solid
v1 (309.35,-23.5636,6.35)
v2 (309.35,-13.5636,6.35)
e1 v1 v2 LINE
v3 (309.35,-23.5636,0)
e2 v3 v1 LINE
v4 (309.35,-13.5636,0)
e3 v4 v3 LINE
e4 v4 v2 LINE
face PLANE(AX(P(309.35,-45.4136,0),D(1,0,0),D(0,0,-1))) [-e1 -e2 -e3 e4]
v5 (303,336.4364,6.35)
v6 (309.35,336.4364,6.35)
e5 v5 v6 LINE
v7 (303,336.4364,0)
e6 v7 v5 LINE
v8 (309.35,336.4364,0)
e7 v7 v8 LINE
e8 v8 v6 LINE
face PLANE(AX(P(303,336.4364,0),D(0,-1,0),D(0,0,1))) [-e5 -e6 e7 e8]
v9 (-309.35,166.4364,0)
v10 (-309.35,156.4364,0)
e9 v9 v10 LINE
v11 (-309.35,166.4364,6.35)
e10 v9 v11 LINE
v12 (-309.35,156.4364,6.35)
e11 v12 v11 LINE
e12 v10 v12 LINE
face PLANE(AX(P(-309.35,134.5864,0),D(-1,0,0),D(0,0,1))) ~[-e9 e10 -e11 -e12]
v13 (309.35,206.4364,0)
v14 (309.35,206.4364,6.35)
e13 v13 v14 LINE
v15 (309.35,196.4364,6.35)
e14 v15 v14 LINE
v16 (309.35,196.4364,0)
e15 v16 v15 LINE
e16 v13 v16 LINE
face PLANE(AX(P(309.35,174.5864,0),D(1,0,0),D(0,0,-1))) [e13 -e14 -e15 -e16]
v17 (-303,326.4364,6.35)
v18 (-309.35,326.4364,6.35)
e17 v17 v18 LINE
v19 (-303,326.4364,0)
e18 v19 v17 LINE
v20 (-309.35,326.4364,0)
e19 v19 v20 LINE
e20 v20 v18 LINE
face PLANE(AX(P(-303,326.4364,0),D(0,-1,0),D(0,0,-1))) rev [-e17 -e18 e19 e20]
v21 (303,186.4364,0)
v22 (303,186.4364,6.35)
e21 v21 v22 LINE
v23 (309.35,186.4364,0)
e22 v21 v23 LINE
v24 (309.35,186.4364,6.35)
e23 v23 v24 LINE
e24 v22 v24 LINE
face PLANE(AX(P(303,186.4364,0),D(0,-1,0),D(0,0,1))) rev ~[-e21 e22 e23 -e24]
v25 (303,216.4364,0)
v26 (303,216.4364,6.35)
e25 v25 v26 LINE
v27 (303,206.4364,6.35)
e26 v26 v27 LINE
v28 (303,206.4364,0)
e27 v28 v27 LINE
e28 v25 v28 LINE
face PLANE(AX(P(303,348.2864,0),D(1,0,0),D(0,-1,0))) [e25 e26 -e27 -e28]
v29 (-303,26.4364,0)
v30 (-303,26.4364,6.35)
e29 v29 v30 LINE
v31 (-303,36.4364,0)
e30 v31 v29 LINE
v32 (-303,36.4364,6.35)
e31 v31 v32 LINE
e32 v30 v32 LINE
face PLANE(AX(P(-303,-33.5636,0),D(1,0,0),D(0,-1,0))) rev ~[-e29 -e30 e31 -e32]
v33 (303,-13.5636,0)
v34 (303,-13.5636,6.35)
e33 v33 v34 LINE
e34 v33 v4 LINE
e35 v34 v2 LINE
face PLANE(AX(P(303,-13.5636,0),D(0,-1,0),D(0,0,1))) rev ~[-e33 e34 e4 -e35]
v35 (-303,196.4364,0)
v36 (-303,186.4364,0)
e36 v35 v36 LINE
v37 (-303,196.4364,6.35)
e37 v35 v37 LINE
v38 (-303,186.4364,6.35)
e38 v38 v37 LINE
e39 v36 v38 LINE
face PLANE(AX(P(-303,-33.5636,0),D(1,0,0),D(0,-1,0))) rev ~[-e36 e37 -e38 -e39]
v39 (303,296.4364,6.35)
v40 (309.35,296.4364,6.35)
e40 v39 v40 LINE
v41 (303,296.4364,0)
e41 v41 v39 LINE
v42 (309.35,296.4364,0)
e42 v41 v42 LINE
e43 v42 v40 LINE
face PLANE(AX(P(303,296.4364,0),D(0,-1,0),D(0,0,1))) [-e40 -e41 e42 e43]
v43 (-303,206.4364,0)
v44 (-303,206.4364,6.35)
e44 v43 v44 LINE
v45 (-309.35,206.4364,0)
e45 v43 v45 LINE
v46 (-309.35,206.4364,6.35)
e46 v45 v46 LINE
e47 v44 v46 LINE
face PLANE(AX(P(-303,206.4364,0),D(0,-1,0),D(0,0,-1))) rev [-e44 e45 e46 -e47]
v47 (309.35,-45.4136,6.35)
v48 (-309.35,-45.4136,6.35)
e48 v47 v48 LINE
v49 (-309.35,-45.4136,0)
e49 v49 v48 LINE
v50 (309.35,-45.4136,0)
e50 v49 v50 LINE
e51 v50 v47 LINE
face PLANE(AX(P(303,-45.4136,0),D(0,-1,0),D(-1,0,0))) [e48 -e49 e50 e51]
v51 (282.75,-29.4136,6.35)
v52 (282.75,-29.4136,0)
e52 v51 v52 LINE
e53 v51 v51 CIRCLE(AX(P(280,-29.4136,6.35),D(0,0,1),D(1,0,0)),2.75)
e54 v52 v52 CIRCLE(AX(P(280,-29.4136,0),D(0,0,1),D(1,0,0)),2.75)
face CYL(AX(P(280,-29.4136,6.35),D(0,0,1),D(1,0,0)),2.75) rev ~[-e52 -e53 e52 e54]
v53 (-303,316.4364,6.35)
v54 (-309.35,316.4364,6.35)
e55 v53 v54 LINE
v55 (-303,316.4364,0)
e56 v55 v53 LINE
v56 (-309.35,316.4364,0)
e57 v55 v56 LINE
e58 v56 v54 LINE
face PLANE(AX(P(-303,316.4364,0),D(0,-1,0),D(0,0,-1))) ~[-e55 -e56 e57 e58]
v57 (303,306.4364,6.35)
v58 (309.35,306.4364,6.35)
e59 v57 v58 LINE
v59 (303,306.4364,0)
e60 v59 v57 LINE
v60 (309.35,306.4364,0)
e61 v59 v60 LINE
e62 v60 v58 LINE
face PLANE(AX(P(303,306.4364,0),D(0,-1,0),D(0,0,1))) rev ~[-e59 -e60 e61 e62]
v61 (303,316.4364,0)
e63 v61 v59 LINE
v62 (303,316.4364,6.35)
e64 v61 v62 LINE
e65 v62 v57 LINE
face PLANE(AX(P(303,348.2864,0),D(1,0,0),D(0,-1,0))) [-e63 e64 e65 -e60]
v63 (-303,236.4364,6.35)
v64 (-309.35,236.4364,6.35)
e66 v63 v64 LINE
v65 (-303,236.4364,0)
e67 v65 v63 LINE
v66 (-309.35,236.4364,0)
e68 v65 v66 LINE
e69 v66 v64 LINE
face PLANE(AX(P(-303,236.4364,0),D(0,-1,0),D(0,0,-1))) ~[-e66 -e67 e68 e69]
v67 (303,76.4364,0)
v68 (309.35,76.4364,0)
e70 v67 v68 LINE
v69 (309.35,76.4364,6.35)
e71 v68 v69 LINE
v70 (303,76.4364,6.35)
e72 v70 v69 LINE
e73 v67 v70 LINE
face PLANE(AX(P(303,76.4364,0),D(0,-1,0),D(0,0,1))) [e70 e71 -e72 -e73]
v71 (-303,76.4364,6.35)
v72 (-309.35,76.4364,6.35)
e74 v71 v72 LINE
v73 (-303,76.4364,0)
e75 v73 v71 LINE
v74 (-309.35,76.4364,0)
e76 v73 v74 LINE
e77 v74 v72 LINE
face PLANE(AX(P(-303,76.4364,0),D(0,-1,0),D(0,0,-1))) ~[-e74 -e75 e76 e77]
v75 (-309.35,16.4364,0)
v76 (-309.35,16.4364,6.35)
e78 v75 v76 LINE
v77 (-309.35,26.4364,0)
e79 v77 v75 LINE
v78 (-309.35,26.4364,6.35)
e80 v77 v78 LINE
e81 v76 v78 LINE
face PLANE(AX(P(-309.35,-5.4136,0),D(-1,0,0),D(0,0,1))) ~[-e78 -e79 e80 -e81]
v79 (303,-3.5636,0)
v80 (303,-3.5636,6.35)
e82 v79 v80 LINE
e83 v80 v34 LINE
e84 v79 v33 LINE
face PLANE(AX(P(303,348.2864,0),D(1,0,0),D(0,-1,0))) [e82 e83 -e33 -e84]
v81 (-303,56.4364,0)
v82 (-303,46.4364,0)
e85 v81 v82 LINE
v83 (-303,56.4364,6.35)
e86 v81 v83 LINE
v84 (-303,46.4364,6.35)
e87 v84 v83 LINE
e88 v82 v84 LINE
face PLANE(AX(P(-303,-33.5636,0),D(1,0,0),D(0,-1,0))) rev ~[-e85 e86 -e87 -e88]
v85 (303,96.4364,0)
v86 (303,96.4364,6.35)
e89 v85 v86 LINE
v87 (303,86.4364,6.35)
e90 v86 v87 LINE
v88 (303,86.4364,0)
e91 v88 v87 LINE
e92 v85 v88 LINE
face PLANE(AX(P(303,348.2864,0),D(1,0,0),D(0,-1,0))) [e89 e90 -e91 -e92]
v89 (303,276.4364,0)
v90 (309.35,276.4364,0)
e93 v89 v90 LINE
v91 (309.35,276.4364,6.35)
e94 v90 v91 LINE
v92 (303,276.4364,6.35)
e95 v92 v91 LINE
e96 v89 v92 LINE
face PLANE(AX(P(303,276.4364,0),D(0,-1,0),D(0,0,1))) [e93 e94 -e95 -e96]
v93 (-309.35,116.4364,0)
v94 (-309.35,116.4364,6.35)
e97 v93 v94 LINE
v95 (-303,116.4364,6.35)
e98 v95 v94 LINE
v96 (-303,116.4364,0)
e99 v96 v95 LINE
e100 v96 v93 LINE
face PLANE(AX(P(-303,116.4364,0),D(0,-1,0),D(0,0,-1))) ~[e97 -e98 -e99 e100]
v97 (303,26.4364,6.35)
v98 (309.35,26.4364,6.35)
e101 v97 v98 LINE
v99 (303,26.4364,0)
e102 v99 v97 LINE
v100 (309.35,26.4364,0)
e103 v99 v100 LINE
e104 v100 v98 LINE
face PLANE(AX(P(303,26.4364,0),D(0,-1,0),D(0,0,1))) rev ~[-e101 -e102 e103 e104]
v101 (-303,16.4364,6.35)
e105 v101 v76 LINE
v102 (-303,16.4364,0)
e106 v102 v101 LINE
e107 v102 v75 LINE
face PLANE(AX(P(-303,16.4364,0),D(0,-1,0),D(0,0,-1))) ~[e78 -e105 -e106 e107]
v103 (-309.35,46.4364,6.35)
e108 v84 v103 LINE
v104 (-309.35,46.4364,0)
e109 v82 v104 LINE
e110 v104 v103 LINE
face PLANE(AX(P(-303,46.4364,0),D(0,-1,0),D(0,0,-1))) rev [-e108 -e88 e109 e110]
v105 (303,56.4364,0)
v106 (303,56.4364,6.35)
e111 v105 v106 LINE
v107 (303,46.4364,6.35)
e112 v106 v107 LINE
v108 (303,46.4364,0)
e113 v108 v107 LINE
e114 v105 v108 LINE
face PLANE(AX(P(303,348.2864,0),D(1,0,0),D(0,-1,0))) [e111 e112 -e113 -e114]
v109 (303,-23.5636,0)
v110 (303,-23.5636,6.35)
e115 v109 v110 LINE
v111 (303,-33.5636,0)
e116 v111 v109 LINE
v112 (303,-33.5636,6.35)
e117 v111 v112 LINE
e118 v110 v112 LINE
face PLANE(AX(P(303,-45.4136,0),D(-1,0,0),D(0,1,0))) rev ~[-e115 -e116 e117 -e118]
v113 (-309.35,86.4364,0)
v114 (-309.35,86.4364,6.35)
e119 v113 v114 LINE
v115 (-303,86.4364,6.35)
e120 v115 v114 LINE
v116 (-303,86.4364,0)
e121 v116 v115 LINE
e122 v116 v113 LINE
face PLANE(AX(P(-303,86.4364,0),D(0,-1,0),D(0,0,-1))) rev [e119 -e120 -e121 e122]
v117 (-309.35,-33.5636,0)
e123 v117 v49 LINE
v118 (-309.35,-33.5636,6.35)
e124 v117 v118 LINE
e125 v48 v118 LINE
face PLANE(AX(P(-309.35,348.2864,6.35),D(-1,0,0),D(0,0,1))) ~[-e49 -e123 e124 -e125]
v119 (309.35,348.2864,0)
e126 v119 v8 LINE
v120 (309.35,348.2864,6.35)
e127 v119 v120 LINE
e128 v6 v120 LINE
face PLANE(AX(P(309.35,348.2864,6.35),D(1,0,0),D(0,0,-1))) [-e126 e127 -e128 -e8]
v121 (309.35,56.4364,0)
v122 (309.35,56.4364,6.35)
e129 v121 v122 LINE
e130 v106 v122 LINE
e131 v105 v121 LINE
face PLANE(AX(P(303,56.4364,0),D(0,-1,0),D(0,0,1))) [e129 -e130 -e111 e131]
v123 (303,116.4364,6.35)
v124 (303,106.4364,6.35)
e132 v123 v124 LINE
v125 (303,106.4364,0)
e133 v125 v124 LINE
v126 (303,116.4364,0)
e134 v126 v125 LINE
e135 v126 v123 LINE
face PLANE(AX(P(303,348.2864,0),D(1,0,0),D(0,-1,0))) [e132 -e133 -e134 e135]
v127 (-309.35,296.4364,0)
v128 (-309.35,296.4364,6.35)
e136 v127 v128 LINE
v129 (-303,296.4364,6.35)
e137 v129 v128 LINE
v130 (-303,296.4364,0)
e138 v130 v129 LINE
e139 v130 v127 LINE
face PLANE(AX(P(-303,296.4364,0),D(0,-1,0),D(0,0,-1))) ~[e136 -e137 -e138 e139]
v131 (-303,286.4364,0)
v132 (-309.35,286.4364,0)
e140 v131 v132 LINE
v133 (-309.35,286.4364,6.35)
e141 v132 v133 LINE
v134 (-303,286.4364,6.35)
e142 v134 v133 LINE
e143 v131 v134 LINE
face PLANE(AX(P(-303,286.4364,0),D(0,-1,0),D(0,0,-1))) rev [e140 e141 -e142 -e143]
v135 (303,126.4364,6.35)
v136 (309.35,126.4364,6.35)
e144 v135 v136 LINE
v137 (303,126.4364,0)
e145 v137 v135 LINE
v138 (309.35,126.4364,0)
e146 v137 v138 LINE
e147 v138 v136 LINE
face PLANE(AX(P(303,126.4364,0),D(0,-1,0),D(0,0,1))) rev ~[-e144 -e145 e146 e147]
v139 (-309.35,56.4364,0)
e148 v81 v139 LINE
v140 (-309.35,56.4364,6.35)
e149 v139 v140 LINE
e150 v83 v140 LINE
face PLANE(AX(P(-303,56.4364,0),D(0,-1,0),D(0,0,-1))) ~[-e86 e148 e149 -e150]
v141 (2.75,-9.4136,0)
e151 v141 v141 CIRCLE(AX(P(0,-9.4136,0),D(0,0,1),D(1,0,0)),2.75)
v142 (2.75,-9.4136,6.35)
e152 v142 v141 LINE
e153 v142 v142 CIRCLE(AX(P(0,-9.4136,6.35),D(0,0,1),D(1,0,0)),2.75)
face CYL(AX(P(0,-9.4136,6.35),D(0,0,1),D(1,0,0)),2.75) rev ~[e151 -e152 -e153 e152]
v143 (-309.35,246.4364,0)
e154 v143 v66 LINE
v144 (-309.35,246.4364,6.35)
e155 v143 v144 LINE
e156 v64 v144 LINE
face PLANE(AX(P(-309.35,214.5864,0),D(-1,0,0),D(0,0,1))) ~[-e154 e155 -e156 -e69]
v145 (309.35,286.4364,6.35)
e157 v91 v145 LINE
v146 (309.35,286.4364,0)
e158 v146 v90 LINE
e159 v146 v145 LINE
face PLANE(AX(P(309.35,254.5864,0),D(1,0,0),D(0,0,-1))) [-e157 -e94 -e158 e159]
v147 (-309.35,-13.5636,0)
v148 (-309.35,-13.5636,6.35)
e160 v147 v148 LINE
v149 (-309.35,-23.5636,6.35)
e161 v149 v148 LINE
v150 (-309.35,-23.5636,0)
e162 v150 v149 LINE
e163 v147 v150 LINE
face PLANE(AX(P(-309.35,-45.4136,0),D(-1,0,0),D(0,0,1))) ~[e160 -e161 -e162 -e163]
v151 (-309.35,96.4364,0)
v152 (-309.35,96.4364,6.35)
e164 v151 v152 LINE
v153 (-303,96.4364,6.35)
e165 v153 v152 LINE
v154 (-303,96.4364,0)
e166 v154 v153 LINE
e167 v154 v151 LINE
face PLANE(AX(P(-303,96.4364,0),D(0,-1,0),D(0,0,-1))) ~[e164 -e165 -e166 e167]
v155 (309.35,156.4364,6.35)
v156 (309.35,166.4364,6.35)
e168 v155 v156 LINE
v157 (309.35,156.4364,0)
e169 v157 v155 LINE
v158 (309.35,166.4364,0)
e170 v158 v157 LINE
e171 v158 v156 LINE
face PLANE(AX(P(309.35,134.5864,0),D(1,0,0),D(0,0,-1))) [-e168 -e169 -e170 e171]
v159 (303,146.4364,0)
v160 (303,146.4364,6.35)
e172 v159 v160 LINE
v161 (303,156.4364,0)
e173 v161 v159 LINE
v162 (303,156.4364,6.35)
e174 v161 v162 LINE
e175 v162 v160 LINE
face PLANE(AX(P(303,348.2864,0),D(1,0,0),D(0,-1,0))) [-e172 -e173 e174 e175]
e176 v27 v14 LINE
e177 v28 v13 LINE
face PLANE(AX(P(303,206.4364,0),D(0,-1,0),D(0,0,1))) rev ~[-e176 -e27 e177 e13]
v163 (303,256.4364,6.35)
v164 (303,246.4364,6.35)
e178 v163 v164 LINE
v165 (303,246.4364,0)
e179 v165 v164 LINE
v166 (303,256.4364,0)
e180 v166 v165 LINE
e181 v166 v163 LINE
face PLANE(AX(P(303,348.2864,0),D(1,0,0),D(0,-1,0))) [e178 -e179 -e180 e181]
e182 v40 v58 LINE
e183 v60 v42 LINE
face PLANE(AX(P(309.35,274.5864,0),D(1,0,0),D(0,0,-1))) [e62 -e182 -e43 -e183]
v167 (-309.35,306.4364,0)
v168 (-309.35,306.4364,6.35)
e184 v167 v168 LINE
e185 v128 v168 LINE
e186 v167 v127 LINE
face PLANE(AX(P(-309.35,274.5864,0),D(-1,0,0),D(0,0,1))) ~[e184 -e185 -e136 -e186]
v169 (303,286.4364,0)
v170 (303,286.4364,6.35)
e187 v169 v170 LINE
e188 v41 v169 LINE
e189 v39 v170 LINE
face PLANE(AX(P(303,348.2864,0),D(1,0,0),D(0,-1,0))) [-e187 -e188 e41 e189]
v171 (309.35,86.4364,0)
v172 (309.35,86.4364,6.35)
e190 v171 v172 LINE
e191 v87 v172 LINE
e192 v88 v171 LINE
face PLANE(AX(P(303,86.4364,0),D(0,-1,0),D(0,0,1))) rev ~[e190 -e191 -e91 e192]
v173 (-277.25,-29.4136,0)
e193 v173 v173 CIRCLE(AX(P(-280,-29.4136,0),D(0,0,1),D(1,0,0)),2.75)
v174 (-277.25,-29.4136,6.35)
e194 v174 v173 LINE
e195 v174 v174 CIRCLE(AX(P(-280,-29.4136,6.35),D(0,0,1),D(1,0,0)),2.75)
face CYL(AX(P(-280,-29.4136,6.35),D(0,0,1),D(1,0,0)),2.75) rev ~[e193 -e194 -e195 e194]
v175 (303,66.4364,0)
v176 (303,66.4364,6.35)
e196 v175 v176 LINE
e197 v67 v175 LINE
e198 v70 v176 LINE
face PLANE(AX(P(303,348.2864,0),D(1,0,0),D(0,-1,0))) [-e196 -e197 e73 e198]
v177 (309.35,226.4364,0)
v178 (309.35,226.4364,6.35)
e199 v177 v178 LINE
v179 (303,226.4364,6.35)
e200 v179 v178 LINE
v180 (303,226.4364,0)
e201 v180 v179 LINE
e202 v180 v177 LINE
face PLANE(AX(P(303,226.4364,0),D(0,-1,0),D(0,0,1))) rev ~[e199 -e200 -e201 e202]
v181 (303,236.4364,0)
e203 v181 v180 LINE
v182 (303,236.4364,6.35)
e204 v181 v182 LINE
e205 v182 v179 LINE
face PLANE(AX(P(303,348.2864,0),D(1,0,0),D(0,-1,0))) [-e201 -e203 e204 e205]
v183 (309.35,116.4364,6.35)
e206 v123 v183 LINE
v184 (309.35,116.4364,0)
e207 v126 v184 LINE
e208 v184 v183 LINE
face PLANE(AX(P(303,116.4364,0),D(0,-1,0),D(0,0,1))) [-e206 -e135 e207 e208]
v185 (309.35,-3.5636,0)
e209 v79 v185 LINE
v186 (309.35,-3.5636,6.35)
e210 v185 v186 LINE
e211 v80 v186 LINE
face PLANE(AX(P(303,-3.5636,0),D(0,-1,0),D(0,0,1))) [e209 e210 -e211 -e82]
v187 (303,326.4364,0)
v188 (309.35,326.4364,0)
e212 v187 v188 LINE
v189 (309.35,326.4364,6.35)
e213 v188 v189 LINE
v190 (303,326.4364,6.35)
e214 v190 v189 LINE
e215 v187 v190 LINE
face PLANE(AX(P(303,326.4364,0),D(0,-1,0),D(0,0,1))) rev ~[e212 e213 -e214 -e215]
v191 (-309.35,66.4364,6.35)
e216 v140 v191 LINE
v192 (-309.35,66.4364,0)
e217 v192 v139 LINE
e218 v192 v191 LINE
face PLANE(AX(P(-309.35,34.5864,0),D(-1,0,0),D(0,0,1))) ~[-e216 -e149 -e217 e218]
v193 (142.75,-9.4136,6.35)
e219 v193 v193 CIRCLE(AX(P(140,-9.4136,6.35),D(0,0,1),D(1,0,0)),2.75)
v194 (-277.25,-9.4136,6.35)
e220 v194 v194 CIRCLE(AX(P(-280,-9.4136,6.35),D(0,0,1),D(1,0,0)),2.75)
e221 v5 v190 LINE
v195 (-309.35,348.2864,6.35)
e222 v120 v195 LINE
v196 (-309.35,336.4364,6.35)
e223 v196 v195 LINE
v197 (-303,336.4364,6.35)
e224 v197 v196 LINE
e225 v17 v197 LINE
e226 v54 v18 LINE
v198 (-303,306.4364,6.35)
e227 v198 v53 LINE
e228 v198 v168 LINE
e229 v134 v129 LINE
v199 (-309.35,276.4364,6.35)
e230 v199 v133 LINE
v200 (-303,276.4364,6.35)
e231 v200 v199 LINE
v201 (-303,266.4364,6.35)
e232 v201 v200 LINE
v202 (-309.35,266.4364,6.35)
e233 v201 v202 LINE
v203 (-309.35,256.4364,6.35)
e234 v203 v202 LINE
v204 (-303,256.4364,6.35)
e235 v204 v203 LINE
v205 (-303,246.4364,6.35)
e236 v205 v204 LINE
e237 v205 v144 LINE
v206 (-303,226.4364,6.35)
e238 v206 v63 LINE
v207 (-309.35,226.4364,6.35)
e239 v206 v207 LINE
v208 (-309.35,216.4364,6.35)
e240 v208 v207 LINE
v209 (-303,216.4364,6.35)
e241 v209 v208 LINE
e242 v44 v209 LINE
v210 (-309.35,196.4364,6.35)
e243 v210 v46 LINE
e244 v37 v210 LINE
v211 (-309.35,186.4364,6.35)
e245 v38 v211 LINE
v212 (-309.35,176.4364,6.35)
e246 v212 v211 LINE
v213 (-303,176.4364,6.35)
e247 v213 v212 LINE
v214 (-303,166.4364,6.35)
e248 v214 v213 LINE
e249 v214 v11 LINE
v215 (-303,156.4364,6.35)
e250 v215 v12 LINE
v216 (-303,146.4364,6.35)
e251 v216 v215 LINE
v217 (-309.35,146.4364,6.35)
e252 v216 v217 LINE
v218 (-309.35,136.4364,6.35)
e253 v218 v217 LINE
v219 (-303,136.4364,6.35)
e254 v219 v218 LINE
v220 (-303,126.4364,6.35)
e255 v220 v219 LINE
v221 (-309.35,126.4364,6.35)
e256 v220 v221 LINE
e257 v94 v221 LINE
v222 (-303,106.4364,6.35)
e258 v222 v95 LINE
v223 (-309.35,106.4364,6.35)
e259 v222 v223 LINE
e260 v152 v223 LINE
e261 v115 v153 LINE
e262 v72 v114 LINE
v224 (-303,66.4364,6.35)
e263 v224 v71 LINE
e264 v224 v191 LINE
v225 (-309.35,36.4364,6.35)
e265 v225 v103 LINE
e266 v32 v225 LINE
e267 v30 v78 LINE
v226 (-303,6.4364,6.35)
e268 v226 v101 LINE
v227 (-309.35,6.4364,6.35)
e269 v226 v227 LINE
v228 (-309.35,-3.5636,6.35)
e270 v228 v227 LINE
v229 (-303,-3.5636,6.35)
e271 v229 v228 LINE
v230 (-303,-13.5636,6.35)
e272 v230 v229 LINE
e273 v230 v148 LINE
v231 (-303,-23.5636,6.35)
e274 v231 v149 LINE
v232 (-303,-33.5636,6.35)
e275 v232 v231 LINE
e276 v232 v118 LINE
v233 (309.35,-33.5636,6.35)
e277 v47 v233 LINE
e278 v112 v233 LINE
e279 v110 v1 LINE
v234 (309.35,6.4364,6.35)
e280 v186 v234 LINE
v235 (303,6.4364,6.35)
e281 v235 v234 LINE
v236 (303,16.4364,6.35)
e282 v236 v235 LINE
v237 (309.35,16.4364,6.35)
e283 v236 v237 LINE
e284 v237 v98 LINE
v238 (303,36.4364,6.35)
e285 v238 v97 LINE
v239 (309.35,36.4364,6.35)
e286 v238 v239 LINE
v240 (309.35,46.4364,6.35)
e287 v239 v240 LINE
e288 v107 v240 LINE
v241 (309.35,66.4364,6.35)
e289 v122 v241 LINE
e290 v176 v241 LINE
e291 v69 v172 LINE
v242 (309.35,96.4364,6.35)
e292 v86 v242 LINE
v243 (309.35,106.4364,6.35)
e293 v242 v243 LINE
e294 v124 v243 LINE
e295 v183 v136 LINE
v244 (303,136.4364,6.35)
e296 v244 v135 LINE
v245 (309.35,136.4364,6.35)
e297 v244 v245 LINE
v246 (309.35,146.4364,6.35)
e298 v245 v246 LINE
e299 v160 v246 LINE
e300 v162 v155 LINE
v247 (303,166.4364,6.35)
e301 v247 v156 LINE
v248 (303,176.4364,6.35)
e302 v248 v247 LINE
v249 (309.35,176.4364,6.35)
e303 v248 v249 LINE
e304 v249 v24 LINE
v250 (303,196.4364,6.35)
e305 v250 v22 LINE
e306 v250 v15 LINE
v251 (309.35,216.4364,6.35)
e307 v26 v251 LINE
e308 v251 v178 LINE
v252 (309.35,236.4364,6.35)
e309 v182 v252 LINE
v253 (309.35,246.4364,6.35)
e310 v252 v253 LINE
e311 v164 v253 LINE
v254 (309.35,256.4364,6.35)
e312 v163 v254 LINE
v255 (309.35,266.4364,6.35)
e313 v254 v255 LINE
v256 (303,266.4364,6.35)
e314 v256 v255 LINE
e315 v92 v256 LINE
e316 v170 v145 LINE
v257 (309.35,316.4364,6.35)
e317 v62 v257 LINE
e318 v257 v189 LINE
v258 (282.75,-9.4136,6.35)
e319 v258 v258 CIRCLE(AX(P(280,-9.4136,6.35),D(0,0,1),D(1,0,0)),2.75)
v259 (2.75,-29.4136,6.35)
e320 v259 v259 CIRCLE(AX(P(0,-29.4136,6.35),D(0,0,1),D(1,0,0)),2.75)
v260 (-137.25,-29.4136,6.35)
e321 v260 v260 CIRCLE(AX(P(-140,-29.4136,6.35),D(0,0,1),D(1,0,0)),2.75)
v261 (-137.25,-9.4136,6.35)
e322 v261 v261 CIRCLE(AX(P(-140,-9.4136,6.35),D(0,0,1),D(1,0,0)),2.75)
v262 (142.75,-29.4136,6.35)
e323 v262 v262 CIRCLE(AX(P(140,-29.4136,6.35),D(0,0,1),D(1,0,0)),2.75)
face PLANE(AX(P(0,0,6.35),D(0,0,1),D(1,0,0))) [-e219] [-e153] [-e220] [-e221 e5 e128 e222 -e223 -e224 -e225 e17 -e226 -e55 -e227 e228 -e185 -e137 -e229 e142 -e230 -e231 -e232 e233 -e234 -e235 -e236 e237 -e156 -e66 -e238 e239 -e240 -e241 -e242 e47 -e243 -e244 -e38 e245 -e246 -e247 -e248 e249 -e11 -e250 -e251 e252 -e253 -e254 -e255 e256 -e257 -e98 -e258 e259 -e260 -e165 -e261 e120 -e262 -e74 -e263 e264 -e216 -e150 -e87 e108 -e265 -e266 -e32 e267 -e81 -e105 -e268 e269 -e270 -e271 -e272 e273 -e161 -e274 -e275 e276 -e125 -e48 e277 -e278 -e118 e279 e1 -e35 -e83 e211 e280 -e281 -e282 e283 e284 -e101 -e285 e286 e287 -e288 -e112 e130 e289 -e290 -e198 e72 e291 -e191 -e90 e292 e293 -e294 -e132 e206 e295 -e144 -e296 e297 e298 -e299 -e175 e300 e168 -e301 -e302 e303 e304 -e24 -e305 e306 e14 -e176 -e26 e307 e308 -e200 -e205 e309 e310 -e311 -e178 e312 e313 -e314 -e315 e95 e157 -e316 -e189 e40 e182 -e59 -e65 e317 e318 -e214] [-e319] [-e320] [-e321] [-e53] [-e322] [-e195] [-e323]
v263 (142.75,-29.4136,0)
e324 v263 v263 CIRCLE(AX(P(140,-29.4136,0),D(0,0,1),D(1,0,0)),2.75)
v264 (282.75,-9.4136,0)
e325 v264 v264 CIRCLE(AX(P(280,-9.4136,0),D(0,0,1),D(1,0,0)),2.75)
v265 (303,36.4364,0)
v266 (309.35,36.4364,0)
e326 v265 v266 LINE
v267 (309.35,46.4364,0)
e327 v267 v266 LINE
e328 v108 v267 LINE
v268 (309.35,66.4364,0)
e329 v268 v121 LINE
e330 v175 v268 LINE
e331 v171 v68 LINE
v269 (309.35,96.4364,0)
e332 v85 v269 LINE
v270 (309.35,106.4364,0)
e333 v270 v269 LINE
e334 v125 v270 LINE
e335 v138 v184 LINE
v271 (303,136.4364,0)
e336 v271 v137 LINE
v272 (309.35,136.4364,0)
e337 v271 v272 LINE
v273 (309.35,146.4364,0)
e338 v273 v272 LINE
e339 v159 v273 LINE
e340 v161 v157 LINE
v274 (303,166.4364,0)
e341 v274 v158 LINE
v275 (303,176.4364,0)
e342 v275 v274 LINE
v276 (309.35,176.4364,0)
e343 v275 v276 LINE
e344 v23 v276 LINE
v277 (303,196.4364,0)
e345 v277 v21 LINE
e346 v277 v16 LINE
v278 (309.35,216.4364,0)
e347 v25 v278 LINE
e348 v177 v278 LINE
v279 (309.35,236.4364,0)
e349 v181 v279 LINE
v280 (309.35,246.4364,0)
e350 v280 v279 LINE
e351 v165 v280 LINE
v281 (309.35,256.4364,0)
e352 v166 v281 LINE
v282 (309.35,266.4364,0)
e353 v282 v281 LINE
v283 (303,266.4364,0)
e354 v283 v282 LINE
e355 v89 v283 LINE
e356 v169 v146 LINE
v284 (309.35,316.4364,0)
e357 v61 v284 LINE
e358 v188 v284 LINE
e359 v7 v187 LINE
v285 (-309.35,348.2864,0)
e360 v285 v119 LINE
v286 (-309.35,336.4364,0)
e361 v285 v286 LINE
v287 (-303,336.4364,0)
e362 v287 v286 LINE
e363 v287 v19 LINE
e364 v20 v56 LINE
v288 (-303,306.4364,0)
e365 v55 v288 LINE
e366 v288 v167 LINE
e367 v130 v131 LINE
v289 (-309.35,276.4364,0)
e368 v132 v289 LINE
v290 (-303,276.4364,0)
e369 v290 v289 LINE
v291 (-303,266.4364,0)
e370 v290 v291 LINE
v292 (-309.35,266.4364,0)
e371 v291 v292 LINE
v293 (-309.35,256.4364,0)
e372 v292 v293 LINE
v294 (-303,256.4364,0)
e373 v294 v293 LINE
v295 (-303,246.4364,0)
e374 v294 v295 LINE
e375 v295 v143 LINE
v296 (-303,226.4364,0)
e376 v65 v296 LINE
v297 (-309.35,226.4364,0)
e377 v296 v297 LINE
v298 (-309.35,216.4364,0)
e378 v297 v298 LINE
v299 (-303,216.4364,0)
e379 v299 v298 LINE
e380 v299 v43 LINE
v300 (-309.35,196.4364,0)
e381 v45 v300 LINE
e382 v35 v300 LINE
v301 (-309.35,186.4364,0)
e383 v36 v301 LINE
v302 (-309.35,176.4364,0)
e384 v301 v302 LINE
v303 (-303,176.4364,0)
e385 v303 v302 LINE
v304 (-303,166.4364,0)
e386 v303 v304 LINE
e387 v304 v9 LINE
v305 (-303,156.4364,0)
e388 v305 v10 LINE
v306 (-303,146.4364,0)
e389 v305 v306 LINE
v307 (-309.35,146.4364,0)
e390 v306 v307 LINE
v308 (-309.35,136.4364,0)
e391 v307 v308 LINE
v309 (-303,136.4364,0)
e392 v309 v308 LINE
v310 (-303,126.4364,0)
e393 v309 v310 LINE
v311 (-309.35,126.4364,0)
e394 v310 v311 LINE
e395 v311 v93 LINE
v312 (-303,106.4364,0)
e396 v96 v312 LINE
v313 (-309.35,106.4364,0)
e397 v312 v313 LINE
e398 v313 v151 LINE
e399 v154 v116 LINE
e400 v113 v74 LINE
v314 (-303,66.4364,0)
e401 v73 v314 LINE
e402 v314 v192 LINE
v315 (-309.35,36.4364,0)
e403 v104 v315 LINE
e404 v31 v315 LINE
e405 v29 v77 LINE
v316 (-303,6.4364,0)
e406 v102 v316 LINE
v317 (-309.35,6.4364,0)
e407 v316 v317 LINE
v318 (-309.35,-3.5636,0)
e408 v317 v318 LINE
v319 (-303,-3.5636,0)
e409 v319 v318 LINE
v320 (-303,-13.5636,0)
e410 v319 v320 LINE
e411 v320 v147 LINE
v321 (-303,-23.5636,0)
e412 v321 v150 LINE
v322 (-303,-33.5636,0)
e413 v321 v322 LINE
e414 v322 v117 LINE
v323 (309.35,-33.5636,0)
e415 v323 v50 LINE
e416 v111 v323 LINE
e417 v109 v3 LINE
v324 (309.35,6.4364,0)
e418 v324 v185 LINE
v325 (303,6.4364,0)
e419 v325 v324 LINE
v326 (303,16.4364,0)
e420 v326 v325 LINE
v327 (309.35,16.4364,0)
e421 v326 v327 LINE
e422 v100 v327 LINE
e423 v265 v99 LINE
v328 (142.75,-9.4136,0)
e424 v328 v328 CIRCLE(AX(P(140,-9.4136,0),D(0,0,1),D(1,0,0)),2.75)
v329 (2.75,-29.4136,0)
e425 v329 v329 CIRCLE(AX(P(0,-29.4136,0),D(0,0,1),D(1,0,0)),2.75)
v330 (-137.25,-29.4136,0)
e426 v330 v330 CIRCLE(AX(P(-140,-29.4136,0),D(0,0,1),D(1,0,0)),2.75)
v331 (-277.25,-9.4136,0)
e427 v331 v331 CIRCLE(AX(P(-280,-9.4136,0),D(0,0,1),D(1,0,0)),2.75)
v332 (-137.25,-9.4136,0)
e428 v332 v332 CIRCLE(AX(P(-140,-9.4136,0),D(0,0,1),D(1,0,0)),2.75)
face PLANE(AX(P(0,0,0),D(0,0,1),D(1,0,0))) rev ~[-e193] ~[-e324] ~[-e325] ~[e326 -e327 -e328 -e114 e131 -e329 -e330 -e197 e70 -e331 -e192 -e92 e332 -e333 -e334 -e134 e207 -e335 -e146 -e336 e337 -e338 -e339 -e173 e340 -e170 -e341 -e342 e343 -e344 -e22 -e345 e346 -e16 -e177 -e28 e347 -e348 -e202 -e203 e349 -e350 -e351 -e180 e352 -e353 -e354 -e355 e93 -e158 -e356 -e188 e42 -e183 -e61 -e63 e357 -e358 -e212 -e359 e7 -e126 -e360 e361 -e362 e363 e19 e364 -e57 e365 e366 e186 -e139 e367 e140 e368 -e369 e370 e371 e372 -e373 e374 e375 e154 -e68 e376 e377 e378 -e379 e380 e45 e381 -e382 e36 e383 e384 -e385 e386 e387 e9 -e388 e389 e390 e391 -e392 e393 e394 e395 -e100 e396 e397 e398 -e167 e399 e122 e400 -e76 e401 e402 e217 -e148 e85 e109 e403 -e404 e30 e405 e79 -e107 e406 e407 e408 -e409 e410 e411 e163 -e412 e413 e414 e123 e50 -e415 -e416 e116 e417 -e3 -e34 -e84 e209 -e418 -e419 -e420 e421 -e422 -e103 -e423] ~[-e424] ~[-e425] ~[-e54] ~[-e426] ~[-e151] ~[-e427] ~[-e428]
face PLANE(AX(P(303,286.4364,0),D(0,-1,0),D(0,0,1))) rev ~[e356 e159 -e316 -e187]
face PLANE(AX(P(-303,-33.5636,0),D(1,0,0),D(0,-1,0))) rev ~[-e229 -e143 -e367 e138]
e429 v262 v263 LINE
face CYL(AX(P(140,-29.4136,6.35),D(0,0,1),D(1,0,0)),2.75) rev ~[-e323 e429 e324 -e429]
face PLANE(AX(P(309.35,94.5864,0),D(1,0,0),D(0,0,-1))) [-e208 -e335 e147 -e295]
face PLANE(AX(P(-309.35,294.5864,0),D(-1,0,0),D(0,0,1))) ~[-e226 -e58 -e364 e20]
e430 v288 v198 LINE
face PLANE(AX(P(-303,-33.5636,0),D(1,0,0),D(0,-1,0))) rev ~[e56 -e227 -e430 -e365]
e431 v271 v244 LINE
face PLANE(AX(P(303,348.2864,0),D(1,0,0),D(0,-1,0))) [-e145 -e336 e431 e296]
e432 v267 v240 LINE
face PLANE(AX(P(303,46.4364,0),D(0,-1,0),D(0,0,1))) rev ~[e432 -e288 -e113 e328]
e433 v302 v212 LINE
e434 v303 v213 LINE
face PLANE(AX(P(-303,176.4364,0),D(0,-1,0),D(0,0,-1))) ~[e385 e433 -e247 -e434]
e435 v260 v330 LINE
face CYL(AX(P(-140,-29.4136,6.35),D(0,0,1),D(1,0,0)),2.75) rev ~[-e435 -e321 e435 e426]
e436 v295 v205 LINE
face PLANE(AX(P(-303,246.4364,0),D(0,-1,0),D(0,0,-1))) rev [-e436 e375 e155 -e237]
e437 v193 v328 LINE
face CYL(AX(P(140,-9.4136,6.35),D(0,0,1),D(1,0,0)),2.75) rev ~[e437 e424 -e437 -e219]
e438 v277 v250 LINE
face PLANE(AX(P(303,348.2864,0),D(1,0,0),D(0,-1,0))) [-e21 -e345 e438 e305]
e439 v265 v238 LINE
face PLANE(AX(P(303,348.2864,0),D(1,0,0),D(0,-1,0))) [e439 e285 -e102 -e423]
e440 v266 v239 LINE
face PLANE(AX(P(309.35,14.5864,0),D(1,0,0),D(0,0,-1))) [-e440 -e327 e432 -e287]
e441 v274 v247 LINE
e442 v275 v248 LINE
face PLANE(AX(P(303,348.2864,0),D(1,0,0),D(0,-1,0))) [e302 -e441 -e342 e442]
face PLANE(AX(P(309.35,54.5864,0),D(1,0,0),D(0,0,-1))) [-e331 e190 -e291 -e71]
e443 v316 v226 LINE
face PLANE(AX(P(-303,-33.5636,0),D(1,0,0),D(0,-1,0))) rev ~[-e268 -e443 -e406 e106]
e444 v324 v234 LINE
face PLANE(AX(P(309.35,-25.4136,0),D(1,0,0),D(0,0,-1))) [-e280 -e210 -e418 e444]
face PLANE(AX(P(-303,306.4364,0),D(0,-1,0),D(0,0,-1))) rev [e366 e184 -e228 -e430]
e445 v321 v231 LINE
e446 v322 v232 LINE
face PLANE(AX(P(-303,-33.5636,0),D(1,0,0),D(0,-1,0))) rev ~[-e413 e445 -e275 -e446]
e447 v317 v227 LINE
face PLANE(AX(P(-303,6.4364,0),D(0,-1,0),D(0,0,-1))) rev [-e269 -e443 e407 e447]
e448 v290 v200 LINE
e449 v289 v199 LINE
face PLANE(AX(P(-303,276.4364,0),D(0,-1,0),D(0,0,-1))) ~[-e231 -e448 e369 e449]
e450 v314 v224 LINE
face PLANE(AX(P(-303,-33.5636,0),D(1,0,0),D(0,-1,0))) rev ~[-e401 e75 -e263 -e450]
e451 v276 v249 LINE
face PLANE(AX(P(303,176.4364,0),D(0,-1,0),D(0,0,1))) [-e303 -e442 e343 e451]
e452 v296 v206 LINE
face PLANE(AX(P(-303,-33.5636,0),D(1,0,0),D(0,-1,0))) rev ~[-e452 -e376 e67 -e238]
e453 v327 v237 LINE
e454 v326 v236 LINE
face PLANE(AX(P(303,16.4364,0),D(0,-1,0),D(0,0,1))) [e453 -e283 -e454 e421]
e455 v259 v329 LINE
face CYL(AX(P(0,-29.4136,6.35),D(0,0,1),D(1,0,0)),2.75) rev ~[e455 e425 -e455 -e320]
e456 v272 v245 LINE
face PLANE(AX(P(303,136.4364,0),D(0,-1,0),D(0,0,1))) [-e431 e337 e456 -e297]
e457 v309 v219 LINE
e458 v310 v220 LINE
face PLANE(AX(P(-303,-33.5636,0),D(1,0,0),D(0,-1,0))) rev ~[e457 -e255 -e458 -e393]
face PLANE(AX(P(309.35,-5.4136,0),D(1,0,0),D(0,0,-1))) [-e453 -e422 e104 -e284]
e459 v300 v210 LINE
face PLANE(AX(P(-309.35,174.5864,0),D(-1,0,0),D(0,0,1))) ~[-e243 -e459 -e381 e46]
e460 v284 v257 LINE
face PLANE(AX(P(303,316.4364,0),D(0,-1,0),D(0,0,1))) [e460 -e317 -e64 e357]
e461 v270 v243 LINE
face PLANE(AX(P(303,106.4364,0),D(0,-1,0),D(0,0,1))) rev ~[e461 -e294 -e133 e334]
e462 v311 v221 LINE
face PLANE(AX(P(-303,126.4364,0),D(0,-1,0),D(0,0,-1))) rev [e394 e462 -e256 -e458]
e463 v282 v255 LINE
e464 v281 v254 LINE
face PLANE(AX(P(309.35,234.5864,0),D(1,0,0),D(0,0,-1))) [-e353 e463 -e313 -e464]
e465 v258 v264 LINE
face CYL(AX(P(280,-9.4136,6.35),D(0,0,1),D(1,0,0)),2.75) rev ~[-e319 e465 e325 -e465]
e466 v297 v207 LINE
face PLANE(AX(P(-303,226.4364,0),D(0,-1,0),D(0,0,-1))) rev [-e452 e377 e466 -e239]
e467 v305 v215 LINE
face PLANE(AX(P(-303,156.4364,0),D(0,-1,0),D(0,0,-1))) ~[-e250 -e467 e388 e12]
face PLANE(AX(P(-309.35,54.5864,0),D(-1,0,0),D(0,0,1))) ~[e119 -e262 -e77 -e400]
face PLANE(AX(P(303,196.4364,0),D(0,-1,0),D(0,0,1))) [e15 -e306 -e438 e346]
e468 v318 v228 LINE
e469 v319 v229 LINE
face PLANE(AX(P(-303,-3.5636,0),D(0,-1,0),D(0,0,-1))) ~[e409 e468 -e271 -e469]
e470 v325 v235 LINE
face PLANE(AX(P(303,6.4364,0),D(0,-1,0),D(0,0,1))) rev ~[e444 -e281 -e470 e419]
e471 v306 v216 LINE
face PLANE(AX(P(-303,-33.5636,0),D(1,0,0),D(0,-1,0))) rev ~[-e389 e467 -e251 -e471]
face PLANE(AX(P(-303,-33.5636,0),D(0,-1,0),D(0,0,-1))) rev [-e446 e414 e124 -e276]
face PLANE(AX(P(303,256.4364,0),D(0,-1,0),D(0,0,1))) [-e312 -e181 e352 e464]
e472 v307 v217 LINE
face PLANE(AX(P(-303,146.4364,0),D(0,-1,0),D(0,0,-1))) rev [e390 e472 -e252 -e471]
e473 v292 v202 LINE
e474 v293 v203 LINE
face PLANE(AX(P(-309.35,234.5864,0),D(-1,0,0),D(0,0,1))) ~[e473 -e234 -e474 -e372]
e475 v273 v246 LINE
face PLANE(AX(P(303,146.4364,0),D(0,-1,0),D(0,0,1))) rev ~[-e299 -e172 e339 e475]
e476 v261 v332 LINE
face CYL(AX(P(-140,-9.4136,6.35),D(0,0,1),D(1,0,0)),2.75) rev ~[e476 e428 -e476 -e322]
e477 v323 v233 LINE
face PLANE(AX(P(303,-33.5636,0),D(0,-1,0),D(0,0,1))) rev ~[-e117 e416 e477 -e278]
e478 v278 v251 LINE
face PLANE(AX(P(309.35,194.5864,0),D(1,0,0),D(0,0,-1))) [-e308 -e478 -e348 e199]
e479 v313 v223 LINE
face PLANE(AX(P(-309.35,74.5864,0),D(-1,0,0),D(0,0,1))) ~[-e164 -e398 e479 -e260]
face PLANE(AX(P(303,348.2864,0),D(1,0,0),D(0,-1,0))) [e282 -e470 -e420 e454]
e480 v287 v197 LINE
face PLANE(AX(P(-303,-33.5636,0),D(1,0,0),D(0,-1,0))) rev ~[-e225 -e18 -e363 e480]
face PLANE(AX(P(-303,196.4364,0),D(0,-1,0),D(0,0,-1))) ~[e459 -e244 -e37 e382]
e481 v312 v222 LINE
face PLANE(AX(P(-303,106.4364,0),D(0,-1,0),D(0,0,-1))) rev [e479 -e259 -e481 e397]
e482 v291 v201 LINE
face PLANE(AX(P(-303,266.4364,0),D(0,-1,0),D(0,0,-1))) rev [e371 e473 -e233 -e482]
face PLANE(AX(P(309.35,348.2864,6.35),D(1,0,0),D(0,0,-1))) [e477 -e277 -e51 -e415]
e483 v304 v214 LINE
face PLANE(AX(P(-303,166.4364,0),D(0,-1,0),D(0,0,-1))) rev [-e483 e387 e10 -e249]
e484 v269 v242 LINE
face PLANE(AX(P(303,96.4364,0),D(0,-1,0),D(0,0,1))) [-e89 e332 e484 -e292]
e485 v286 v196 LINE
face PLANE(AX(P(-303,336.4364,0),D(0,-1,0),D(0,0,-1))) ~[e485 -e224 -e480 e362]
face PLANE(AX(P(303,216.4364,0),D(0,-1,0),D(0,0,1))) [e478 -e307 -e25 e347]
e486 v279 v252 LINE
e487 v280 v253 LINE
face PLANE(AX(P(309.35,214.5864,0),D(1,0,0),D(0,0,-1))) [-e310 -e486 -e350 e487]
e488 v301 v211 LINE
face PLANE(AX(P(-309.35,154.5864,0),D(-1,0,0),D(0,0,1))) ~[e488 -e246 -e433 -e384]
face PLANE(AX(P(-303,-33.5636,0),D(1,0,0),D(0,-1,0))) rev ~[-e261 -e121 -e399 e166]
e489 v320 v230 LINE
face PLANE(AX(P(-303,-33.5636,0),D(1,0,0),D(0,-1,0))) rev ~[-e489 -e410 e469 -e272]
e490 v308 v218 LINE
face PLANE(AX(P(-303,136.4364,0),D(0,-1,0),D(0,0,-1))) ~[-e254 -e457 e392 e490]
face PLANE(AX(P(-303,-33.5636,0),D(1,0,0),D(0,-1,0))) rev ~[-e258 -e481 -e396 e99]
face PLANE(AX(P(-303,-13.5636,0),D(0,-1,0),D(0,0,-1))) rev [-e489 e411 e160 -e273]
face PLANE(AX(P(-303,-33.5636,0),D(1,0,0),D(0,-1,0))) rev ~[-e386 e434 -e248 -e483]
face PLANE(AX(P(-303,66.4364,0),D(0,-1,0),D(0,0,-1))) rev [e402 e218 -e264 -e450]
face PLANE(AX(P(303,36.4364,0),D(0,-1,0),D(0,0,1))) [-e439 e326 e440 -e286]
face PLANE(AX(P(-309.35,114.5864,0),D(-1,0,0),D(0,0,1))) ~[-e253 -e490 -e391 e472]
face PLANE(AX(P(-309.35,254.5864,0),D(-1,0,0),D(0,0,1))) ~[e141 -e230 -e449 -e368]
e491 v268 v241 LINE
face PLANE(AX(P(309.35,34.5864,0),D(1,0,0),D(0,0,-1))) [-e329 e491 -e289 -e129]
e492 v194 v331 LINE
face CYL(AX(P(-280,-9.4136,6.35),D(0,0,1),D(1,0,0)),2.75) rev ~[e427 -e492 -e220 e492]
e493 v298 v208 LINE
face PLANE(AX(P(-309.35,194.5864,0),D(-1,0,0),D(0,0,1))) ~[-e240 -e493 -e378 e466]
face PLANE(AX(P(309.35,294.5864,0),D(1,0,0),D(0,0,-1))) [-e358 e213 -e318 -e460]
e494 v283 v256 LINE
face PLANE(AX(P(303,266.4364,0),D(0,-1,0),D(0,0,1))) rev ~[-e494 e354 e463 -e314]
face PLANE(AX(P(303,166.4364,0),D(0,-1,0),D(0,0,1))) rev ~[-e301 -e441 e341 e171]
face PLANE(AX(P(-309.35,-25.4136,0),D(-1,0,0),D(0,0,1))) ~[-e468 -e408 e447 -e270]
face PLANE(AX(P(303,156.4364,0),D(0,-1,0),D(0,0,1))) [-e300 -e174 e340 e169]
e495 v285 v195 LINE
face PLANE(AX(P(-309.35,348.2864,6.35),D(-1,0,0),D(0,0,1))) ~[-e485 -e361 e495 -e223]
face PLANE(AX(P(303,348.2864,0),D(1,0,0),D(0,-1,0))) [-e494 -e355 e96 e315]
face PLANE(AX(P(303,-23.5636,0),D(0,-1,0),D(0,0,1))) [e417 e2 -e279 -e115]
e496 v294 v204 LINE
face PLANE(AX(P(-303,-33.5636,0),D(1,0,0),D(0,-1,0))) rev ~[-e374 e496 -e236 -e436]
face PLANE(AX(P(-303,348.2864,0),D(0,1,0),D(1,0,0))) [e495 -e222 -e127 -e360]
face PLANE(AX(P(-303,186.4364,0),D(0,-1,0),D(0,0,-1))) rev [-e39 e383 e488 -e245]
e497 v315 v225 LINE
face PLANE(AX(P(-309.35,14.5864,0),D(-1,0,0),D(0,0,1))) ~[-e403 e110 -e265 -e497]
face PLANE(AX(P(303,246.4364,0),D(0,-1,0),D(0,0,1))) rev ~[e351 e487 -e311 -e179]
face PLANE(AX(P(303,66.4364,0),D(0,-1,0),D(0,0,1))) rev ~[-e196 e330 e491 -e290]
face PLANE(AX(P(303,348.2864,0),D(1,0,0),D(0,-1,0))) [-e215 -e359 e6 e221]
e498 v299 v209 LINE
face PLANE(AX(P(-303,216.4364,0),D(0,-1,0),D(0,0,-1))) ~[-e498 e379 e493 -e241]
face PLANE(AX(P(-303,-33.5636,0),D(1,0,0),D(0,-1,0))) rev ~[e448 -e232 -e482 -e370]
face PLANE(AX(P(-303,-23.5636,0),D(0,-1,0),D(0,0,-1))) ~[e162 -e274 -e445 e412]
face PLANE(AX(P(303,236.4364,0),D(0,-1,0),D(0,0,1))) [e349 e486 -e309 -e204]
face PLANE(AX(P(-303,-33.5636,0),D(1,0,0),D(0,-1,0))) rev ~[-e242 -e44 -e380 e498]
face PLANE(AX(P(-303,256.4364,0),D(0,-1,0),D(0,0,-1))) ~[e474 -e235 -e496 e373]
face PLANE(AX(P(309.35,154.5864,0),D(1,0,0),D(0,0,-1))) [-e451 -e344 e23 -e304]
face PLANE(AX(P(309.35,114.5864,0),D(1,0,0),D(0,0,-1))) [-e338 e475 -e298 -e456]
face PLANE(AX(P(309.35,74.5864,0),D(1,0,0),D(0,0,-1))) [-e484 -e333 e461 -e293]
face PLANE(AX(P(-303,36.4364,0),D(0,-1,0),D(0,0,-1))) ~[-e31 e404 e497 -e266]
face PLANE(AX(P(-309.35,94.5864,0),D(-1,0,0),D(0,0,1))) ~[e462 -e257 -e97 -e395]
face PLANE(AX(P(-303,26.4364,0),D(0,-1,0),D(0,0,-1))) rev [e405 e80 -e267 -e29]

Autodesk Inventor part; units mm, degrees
ref_plane "YZ Plane" through (0, 0, 0) normal (1, 0, 0) x (0, 1, 0)
ref_plane "XZ Plane" through (0, 0, 0) normal (0, 1, 0) x (-1, 0, 0)
ref_plane "XY Plane" through (0, 0, 0) normal (0, 0, 1) x (1, 0, 0)
sketch "Sketch1" plane through (0, 0, 0) normal (0, 0, 1) x (1, 0, 0)
  line L0 (303, -45.4136) -> (309.35, -45.4136) projected
  line L1 (303, -45.4136) -> (303, -33.5636) projected
  line L2 (303, 348.2864) -> (309.35, 348.2864) projected
  line L3 (-309.35, 348.2864) -> (-303, 348.2864) projected
  line L4 (-303, -33.5636) -> (-303, -45.4136) projected
  line L5 (303, -45.4136) -> (-303, -45.4136)
  line L6 (-303, -45.4136) -> (-303, 348.2864)
  line L7 (-303, 348.2864) -> (303, 348.2864)
  line L8 (303, 348.2864) -> (303, -45.4136)
  point P0 (0, 0)
extrude "Extrusion1" add sketch "Sketch1" along normal blind 6.35
sketch "Sketch3" plane through (303, -45.4136, 0) normal (1, 0, 0) x (0, 0, -1)
  line L0 (0, 393.7) -> (0, 0) projected
  line L1 (-6.35, 0) -> (-6.35, 393.7) projected
  line L2 (0, 21.85) -> (-6.35, 21.85) projected
  line L3 (0, 31.85) -> (-6.35, 31.85) projected
  point P0 (0, 45.4136)
extrude "Extrusion3" add sketch "Sketch3" along normal blind 6.35
pattern_linear "Rectangular Pattern1" count 18 spacing 20 along (0, 1, 0) of "Extrusion3"
sketch "Sketch4" plane through (303, 348.2864, 6.35) normal (1, 0, 0) x (0, 0, -1)
  line L0 (6.35, 0) -> (0, 0) projected
  line L1 (0, -21.85) -> (0, 0) projected
  circle A0 centre (454.35, -377.7) radius 2.75 projected
  circle A1 centre (259.35, -357.7) radius 2.75 projected
  circle A2 centre (64.35, -377.7) radius 2.75 projected
  circle A3 centre (64.35, -357.7) radius 2.75 projected
  circle A4 centre (259.35, -377.7) radius 2.75 projected
  circle A5 centre (454.35, -357.7) radius 2.75 projected
  arc A6 (30.35, -355.2) -> (18.35, -355.2) centre (24.35, -355.2) ccw projected
  line L2 (30.35, -355.2) -> (30.35, -380.2) projected
  arc A7 (18.35, -380.2) -> (30.35, -380.2) centre (24.35, -380.2) ccw projected
  line L3 (18.35, -380.2) -> (18.35, -355.2) projected
  arc A8 (488.35, -380.2) -> (500.35, -380.2) centre (494.35, -380.2) ccw projected
  line L4 (488.35, -380.2) -> (488.35, -355.2) projected
  arc A9 (500.35, -355.2) -> (488.35, -355.2) centre (494.35, -355.2) ccw projected
  line L5 (500.35, -355.2) -> (500.35, -380.2) projected
  line L6 (6.35, -393.7) -> (513.2999, -393.7) projected
  line L7 (513.2999, -393.7) -> (513.2999, -381.85) projected
  line L8 (513.2999, -381.85) -> (519.6499, -381.85) projected
  line L9 (519.6499, -371.85) -> (519.6499, -381.85) projected
  line L10 (513.2999, -371.85) -> (519.6499, -371.85) projected
  line L11 (513.2999, -371.85) -> (513.2999, -361.85) projected
  line L12 (513.2999, -361.85) -> (519.6499, -361.85) projected
  line L13 (519.6499, -351.85) -> (519.6499, -361.85) projected
  line L14 (513.2999, -351.85) -> (519.6499, -351.85) projected
  line L15 (513.2999, -351.85) -> (513.2999, -341.85) projected
  line L16 (513.2999, -341.85) -> (519.6499, -341.85) projected
  line L17 (519.6499, -331.85) -> (519.6499, -341.85) projected
  line L18 (513.2999, -331.85) -> (519.6499, -331.85) projected
  line L19 (513.2999, -331.85) -> (513.2999, -321.85) projected
  line L20 (513.2999, -321.85) -> (519.6499, -321.85) projected
  line L21 (519.6499, -311.85) -> (519.6499, -321.85) projected
  line L22 (513.2999, -311.85) -> (519.6499, -311.85) projected
  line L23 (513.2999, -311.85) -> (513.2999, -301.85) projected
  line L24 (513.2999, -301.85) -> (519.6499, -301.85) projected
  line L25 (519.6499, -291.85) -> (519.6499, -301.85) projected
  line L26 (513.2999, -291.85) -> (519.6499, -291.85) projected
  line L27 (513.2999, -291.85) -> (513.2999, -281.85) projected
  line L28 (513.2999, -281.85) -> (519.6499, -281.85) projected
  line L29 (519.6499, -271.85) -> (519.6499, -281.85) projected
  line L30 (513.2999, -271.85) -> (519.6499, -271.85) projected
  line L31 (513.2999, -271.85) -> (513.2999, -261.85) projected
  line L32 (513.2999, -261.85) -> (519.6499, -261.85) projected
  line L33 (519.6499, -251.85) -> (519.6499, -261.85) projected
  line L34 (513.2999, -251.85) -> (519.6499, -251.85) projected
  line L35 (513.2999, -251.85) -> (513.2999, -241.85) projected
  line L36 (513.2999, -241.85) -> (519.6499, -241.85) projected
  line L37 (519.6499, -231.85) -> (519.6499, -241.85) projected
  line L38 (513.2999, -231.85) -> (519.6499, -231.85) projected
  line L39 (513.2999, -231.85) -> (513.2999, -221.85) projected
  line L40 (513.2999, -221.85) -> (519.6499, -221.85) projected
  line L41 (519.6499, -211.85) -> (519.6499, -221.85) projected
  line L42 (513.2999, -211.85) -> (519.6499, -211.85) projected
  line L43 (513.2999, -211.85) -> (513.2999, -201.85) projected
  line L44 (513.2999, -201.85) -> (519.6499, -201.85) projected
  line L45 (519.6499, -191.85) -> (519.6499, -201.85) projected
  line L46 (513.2999, -191.85) -> (519.6499, -191.85) projected
  line L47 (513.2999, -191.85) -> (513.2999, -181.85) projected
  line L48 (513.2999, -181.85) -> (519.6499, -181.85) projected
  line L49 (519.6499, -171.85) -> (519.6499, -181.85) projected
  line L50 (513.2999, -171.85) -> (519.6499, -171.85) projected
  line L51 (513.2999, -171.85) -> (513.2999, -161.85) projected
  line L52 (513.2999, -161.85) -> (519.6499, -161.85) projected
  line L53 (519.6499, -151.85) -> (519.6499, -161.85) projected
  line L54 (513.2999, -151.85) -> (519.6499, -151.85) projected
  line L55 (513.2999, -151.85) -> (513.2999, -141.85) projected
  line L56 (513.2999, -141.85) -> (519.6499, -141.85) projected
  line L57 (519.6499, -131.85) -> (519.6499, -141.85) projected
  line L58 (513.2999, -131.85) -> (519.6499, -131.85) projected
  line L59 (513.2999, -131.85) -> (513.2999, -121.85) projected
  line L60 (513.2999, -121.85) -> (519.6499, -121.85) projected
  line L61 (519.6499, -111.85) -> (519.6499, -121.85) projected
  line L62 (513.2999, -111.85) -> (519.6499, -111.85) projected
  line L63 (513.2999, -111.85) -> (513.2999, -101.85) projected
  line L64 (513.2999, -101.85) -> (519.6499, -101.85) projected
  line L65 (519.6499, -91.85) -> (519.6499, -101.85) projected
  line L66 (513.2999, -91.85) -> (519.6499, -91.85) projected
  line L67 (513.2999, -91.85) -> (513.2999, -81.85) projected
  line L68 (513.2999, -81.85) -> (519.6499, -81.85) projected
  line L69 (519.6499, -71.85) -> (519.6499, -81.85) projected
  line L70 (513.2999, -71.85) -> (519.6499, -71.85) projected
  line L71 (513.2999, -71.85) -> (513.2999, -61.85) projected
  line L72 (513.2999, -61.85) -> (519.6499, -61.85) projected
  line L73 (519.6499, -51.85) -> (519.6499, -61.85) projected
  line L74 (513.2999, -51.85) -> (519.6499, -51.85) projected
  line L75 (513.2999, -51.85) -> (513.2999, -41.85) projected
  line L76 (513.2999, -41.85) -> (519.6499, -41.85) projected
  line L77 (519.6499, -31.85) -> (519.6499, -41.85) projected
  line L78 (513.2999, -31.85) -> (519.6499, -31.85) projected
  line L79 (513.2999, -31.85) -> (513.2999, -21.85) projected
  line L80 (513.2999, -21.85) -> (519.6499, -21.85) projected
  line L81 (519.6499, -11.85) -> (519.6499, -21.85) projected
  line L82 (513.2999, -11.85) -> (519.6499, -11.85) projected
  line L83 (513.2999, -11.85) -> (513.2999, 0) projected
  line L84 (513.2999, 0) -> (6.35, 0) projected
  line L85 (6.35, 0) -> (6.35, -11.85) projected
  line L86 (6.35, -11.85) -> (0, -11.85) projected
  line L87 (0, -21.85) -> (0, -11.85) projected
  line L88 (6.35, -21.85) -> (0, -21.85) projected
  line L89 (6.35, -21.85) -> (6.35, -31.85) projected
  line L90 (6.35, -31.85) -> (0, -31.85) projected
  line L91 (0, -41.85) -> (0, -31.85) projected
  line L92 (6.35, -41.85) -> (0, -41.85) projected
  line L93 (6.35, -41.85) -> (6.35, -51.85) projected
  line L94 (6.35, -51.85) -> (0, -51.85) projected
  line L95 (0, -61.85) -> (0, -51.85) projected
  line L96 (6.35, -61.85) -> (0, -61.85) projected
  line L97 (6.35, -61.85) -> (6.35, -71.85) projected
  line L98 (6.35, -71.85) -> (0, -71.85) projected
  line L99 (0, -81.85) -> (0, -71.85) projected
  line L100 (6.35, -81.85) -> (0, -81.85) projected
  line L101 (6.35, -81.85) -> (6.35, -91.85) projected
  line L102 (6.35, -91.85) -> (0, -91.85) projected
  line L103 (0, -101.85) -> (0, -91.85) projected
  line L104 (6.35, -101.85) -> (0, -101.85) projected
  line L105 (6.35, -101.85) -> (6.35, -111.85) projected
  line L106 (6.35, -111.85) -> (0, -111.85) projected
  line L107 (0, -121.85) -> (0, -111.85) projected
  line L108 (6.35, -121.85) -> (0, -121.85) projected
  line L109 (6.35, -121.85) -> (6.35, -131.85) projected
  line L110 (6.35, -131.85) -> (0, -131.85) projected
  line L111 (0, -141.85) -> (0, -131.85) projected
  line L112 (6.35, -141.85) -> (0, -141.85) projected
  line L113 (6.35, -141.85) -> (6.35, -151.85) projected
  line L114 (6.35, -151.85) -> (0, -151.85) projected
  line L115 (0, -161.85) -> (0, -151.85) projected
  line L116 (6.35, -161.85) -> (0, -161.85) projected
  line L117 (6.35, -161.85) -> (6.35, -171.85) projected
  line L118 (6.35, -171.85) -> (0, -171.85) projected
  line L119 (0, -181.85) -> (0, -171.85) projected
  line L120 (6.35, -181.85) -> (0, -181.85) projected
  line L121 (6.35, -181.85) -> (6.35, -191.85) projected
  line L122 (6.35, -191.85) -> (0, -191.85) projected
  line L123 (0, -201.85) -> (0, -191.85) projected
  line L124 (6.35, -201.85) -> (0, -201.85) projected
  line L125 (6.35, -201.85) -> (6.35, -211.85) projected
  line L126 (6.35, -211.85) -> (0, -211.85) projected
  line L127 (0, -221.85) -> (0, -211.85) projected
  line L128 (6.35, -221.85) -> (0, -221.85) projected
  line L129 (6.35, -221.85) -> (6.35, -231.85) projected
  line L130 (6.35, -231.85) -> (0, -231.85) projected
  line L131 (0, -241.85) -> (0, -231.85) projected
  line L132 (6.35, -241.85) -> (0, -241.85) projected
  line L133 (6.35, -241.85) -> (6.35, -251.85) projected
  line L134 (6.35, -251.85) -> (0, -251.85) projected
  line L135 (0, -261.85) -> (0, -251.85) projected
  line L136 (6.35, -261.85) -> (0, -261.85) projected
  line L137 (6.35, -261.85) -> (6.35, -271.85) projected
  line L138 (6.35, -271.85) -> (0, -271.85) projected
  line L139 (0, -281.85) -> (0, -271.85) projected
  line L140 (6.35, -281.85) -> (0, -281.85) projected
  line L141 (6.35, -281.85) -> (6.35, -291.85) projected
  line L142 (6.35, -291.85) -> (0, -291.85) projected
  line L143 (0, -301.85) -> (0, -291.85) projected
  line L144 (6.35, -301.85) -> (0, -301.85) projected
  line L145 (6.35, -301.85) -> (6.35, -311.85) projected
  line L146 (6.35, -311.85) -> (0, -311.85) projected
  line L147 (0, -321.85) -> (0, -311.85) projected
  line L148 (6.35, -321.85) -> (0, -321.85) projected
  line L149 (6.35, -321.85) -> (6.35, -331.85) projected
  line L150 (6.35, -331.85) -> (0, -331.85) projected
  line L151 (0, -341.85) -> (0, -331.85) projected
  line L152 (6.35, -341.85) -> (0, -341.85) projected
  line L153 (6.35, -341.85) -> (6.35, -351.85) projected
  line L154 (6.35, -351.85) -> (0, -351.85) projected
  line L155 (0, -361.85) -> (0, -351.85) projected
  line L156 (6.35, -361.85) -> (0, -361.85) projected
  line L157 (6.35, -361.85) -> (6.35, -371.85) projected
  line L158 (6.35, -371.85) -> (0, -371.85) projected
  line L159 (0, -381.85) -> (0, -371.85) projected
  line L160 (6.35, -381.85) -> (0, -381.85) projected
  line L161 (6.35, -381.85) -> (6.35, -393.7) projected
  line L162 (6.35, -393.7) -> (0, -393.7) projected
  line L163 (0, -393.7) -> (0, -371.85) projected
  point P0 (6.35, -348.2864)
extrude "Extrusion4" add sketch "Sketch4" along normal blind 6.35 contours L85 L86 L1 L0 | L160 L161 L162 L163
ref_plane "Work Plane1" through (0, 326.4364, 6.35) normal (1, 0, 0) x (0, 0, -1)
mirror "Mirror1" about plane through (0, 326.4364, 6.35) normal (1, 0, 0) of "Extrusion3", "Rectangular Pattern1", "Extrusion4"
sketch "Sketch6" plane through (0, 0, 6.35) normal (0, 0, 1) x (1, 0, 0)
  circle A0 centre (0, -29.4136) radius 2.75 projected
  circle A1 centre (0, -9.4136) radius 2.75 projected
  circle A2 centre (140, -29.4136) radius 2.75 projected
  circle A3 centre (140, -9.4136) radius 2.75 projected
  circle A4 centre (280, -9.4136) radius 2.75 projected
  circle A5 centre (280, -29.4136) radius 2.75 projected
  circle A6 centre (-280, -29.4136) radius 2.75 projected
  circle A7 centre (-280, -9.4136) radius 2.75 projected
  circle A8 centre (-140, -9.4136) radius 2.75 projected
  circle A9 centre (-140, -29.4136) radius 2.75 projected
  point P0 (0, 0)
extrude "Extrusion5" cut sketch "Sketch6" against normal through all
properties part number "case_rear" material "Polycarbonate, Clear"
